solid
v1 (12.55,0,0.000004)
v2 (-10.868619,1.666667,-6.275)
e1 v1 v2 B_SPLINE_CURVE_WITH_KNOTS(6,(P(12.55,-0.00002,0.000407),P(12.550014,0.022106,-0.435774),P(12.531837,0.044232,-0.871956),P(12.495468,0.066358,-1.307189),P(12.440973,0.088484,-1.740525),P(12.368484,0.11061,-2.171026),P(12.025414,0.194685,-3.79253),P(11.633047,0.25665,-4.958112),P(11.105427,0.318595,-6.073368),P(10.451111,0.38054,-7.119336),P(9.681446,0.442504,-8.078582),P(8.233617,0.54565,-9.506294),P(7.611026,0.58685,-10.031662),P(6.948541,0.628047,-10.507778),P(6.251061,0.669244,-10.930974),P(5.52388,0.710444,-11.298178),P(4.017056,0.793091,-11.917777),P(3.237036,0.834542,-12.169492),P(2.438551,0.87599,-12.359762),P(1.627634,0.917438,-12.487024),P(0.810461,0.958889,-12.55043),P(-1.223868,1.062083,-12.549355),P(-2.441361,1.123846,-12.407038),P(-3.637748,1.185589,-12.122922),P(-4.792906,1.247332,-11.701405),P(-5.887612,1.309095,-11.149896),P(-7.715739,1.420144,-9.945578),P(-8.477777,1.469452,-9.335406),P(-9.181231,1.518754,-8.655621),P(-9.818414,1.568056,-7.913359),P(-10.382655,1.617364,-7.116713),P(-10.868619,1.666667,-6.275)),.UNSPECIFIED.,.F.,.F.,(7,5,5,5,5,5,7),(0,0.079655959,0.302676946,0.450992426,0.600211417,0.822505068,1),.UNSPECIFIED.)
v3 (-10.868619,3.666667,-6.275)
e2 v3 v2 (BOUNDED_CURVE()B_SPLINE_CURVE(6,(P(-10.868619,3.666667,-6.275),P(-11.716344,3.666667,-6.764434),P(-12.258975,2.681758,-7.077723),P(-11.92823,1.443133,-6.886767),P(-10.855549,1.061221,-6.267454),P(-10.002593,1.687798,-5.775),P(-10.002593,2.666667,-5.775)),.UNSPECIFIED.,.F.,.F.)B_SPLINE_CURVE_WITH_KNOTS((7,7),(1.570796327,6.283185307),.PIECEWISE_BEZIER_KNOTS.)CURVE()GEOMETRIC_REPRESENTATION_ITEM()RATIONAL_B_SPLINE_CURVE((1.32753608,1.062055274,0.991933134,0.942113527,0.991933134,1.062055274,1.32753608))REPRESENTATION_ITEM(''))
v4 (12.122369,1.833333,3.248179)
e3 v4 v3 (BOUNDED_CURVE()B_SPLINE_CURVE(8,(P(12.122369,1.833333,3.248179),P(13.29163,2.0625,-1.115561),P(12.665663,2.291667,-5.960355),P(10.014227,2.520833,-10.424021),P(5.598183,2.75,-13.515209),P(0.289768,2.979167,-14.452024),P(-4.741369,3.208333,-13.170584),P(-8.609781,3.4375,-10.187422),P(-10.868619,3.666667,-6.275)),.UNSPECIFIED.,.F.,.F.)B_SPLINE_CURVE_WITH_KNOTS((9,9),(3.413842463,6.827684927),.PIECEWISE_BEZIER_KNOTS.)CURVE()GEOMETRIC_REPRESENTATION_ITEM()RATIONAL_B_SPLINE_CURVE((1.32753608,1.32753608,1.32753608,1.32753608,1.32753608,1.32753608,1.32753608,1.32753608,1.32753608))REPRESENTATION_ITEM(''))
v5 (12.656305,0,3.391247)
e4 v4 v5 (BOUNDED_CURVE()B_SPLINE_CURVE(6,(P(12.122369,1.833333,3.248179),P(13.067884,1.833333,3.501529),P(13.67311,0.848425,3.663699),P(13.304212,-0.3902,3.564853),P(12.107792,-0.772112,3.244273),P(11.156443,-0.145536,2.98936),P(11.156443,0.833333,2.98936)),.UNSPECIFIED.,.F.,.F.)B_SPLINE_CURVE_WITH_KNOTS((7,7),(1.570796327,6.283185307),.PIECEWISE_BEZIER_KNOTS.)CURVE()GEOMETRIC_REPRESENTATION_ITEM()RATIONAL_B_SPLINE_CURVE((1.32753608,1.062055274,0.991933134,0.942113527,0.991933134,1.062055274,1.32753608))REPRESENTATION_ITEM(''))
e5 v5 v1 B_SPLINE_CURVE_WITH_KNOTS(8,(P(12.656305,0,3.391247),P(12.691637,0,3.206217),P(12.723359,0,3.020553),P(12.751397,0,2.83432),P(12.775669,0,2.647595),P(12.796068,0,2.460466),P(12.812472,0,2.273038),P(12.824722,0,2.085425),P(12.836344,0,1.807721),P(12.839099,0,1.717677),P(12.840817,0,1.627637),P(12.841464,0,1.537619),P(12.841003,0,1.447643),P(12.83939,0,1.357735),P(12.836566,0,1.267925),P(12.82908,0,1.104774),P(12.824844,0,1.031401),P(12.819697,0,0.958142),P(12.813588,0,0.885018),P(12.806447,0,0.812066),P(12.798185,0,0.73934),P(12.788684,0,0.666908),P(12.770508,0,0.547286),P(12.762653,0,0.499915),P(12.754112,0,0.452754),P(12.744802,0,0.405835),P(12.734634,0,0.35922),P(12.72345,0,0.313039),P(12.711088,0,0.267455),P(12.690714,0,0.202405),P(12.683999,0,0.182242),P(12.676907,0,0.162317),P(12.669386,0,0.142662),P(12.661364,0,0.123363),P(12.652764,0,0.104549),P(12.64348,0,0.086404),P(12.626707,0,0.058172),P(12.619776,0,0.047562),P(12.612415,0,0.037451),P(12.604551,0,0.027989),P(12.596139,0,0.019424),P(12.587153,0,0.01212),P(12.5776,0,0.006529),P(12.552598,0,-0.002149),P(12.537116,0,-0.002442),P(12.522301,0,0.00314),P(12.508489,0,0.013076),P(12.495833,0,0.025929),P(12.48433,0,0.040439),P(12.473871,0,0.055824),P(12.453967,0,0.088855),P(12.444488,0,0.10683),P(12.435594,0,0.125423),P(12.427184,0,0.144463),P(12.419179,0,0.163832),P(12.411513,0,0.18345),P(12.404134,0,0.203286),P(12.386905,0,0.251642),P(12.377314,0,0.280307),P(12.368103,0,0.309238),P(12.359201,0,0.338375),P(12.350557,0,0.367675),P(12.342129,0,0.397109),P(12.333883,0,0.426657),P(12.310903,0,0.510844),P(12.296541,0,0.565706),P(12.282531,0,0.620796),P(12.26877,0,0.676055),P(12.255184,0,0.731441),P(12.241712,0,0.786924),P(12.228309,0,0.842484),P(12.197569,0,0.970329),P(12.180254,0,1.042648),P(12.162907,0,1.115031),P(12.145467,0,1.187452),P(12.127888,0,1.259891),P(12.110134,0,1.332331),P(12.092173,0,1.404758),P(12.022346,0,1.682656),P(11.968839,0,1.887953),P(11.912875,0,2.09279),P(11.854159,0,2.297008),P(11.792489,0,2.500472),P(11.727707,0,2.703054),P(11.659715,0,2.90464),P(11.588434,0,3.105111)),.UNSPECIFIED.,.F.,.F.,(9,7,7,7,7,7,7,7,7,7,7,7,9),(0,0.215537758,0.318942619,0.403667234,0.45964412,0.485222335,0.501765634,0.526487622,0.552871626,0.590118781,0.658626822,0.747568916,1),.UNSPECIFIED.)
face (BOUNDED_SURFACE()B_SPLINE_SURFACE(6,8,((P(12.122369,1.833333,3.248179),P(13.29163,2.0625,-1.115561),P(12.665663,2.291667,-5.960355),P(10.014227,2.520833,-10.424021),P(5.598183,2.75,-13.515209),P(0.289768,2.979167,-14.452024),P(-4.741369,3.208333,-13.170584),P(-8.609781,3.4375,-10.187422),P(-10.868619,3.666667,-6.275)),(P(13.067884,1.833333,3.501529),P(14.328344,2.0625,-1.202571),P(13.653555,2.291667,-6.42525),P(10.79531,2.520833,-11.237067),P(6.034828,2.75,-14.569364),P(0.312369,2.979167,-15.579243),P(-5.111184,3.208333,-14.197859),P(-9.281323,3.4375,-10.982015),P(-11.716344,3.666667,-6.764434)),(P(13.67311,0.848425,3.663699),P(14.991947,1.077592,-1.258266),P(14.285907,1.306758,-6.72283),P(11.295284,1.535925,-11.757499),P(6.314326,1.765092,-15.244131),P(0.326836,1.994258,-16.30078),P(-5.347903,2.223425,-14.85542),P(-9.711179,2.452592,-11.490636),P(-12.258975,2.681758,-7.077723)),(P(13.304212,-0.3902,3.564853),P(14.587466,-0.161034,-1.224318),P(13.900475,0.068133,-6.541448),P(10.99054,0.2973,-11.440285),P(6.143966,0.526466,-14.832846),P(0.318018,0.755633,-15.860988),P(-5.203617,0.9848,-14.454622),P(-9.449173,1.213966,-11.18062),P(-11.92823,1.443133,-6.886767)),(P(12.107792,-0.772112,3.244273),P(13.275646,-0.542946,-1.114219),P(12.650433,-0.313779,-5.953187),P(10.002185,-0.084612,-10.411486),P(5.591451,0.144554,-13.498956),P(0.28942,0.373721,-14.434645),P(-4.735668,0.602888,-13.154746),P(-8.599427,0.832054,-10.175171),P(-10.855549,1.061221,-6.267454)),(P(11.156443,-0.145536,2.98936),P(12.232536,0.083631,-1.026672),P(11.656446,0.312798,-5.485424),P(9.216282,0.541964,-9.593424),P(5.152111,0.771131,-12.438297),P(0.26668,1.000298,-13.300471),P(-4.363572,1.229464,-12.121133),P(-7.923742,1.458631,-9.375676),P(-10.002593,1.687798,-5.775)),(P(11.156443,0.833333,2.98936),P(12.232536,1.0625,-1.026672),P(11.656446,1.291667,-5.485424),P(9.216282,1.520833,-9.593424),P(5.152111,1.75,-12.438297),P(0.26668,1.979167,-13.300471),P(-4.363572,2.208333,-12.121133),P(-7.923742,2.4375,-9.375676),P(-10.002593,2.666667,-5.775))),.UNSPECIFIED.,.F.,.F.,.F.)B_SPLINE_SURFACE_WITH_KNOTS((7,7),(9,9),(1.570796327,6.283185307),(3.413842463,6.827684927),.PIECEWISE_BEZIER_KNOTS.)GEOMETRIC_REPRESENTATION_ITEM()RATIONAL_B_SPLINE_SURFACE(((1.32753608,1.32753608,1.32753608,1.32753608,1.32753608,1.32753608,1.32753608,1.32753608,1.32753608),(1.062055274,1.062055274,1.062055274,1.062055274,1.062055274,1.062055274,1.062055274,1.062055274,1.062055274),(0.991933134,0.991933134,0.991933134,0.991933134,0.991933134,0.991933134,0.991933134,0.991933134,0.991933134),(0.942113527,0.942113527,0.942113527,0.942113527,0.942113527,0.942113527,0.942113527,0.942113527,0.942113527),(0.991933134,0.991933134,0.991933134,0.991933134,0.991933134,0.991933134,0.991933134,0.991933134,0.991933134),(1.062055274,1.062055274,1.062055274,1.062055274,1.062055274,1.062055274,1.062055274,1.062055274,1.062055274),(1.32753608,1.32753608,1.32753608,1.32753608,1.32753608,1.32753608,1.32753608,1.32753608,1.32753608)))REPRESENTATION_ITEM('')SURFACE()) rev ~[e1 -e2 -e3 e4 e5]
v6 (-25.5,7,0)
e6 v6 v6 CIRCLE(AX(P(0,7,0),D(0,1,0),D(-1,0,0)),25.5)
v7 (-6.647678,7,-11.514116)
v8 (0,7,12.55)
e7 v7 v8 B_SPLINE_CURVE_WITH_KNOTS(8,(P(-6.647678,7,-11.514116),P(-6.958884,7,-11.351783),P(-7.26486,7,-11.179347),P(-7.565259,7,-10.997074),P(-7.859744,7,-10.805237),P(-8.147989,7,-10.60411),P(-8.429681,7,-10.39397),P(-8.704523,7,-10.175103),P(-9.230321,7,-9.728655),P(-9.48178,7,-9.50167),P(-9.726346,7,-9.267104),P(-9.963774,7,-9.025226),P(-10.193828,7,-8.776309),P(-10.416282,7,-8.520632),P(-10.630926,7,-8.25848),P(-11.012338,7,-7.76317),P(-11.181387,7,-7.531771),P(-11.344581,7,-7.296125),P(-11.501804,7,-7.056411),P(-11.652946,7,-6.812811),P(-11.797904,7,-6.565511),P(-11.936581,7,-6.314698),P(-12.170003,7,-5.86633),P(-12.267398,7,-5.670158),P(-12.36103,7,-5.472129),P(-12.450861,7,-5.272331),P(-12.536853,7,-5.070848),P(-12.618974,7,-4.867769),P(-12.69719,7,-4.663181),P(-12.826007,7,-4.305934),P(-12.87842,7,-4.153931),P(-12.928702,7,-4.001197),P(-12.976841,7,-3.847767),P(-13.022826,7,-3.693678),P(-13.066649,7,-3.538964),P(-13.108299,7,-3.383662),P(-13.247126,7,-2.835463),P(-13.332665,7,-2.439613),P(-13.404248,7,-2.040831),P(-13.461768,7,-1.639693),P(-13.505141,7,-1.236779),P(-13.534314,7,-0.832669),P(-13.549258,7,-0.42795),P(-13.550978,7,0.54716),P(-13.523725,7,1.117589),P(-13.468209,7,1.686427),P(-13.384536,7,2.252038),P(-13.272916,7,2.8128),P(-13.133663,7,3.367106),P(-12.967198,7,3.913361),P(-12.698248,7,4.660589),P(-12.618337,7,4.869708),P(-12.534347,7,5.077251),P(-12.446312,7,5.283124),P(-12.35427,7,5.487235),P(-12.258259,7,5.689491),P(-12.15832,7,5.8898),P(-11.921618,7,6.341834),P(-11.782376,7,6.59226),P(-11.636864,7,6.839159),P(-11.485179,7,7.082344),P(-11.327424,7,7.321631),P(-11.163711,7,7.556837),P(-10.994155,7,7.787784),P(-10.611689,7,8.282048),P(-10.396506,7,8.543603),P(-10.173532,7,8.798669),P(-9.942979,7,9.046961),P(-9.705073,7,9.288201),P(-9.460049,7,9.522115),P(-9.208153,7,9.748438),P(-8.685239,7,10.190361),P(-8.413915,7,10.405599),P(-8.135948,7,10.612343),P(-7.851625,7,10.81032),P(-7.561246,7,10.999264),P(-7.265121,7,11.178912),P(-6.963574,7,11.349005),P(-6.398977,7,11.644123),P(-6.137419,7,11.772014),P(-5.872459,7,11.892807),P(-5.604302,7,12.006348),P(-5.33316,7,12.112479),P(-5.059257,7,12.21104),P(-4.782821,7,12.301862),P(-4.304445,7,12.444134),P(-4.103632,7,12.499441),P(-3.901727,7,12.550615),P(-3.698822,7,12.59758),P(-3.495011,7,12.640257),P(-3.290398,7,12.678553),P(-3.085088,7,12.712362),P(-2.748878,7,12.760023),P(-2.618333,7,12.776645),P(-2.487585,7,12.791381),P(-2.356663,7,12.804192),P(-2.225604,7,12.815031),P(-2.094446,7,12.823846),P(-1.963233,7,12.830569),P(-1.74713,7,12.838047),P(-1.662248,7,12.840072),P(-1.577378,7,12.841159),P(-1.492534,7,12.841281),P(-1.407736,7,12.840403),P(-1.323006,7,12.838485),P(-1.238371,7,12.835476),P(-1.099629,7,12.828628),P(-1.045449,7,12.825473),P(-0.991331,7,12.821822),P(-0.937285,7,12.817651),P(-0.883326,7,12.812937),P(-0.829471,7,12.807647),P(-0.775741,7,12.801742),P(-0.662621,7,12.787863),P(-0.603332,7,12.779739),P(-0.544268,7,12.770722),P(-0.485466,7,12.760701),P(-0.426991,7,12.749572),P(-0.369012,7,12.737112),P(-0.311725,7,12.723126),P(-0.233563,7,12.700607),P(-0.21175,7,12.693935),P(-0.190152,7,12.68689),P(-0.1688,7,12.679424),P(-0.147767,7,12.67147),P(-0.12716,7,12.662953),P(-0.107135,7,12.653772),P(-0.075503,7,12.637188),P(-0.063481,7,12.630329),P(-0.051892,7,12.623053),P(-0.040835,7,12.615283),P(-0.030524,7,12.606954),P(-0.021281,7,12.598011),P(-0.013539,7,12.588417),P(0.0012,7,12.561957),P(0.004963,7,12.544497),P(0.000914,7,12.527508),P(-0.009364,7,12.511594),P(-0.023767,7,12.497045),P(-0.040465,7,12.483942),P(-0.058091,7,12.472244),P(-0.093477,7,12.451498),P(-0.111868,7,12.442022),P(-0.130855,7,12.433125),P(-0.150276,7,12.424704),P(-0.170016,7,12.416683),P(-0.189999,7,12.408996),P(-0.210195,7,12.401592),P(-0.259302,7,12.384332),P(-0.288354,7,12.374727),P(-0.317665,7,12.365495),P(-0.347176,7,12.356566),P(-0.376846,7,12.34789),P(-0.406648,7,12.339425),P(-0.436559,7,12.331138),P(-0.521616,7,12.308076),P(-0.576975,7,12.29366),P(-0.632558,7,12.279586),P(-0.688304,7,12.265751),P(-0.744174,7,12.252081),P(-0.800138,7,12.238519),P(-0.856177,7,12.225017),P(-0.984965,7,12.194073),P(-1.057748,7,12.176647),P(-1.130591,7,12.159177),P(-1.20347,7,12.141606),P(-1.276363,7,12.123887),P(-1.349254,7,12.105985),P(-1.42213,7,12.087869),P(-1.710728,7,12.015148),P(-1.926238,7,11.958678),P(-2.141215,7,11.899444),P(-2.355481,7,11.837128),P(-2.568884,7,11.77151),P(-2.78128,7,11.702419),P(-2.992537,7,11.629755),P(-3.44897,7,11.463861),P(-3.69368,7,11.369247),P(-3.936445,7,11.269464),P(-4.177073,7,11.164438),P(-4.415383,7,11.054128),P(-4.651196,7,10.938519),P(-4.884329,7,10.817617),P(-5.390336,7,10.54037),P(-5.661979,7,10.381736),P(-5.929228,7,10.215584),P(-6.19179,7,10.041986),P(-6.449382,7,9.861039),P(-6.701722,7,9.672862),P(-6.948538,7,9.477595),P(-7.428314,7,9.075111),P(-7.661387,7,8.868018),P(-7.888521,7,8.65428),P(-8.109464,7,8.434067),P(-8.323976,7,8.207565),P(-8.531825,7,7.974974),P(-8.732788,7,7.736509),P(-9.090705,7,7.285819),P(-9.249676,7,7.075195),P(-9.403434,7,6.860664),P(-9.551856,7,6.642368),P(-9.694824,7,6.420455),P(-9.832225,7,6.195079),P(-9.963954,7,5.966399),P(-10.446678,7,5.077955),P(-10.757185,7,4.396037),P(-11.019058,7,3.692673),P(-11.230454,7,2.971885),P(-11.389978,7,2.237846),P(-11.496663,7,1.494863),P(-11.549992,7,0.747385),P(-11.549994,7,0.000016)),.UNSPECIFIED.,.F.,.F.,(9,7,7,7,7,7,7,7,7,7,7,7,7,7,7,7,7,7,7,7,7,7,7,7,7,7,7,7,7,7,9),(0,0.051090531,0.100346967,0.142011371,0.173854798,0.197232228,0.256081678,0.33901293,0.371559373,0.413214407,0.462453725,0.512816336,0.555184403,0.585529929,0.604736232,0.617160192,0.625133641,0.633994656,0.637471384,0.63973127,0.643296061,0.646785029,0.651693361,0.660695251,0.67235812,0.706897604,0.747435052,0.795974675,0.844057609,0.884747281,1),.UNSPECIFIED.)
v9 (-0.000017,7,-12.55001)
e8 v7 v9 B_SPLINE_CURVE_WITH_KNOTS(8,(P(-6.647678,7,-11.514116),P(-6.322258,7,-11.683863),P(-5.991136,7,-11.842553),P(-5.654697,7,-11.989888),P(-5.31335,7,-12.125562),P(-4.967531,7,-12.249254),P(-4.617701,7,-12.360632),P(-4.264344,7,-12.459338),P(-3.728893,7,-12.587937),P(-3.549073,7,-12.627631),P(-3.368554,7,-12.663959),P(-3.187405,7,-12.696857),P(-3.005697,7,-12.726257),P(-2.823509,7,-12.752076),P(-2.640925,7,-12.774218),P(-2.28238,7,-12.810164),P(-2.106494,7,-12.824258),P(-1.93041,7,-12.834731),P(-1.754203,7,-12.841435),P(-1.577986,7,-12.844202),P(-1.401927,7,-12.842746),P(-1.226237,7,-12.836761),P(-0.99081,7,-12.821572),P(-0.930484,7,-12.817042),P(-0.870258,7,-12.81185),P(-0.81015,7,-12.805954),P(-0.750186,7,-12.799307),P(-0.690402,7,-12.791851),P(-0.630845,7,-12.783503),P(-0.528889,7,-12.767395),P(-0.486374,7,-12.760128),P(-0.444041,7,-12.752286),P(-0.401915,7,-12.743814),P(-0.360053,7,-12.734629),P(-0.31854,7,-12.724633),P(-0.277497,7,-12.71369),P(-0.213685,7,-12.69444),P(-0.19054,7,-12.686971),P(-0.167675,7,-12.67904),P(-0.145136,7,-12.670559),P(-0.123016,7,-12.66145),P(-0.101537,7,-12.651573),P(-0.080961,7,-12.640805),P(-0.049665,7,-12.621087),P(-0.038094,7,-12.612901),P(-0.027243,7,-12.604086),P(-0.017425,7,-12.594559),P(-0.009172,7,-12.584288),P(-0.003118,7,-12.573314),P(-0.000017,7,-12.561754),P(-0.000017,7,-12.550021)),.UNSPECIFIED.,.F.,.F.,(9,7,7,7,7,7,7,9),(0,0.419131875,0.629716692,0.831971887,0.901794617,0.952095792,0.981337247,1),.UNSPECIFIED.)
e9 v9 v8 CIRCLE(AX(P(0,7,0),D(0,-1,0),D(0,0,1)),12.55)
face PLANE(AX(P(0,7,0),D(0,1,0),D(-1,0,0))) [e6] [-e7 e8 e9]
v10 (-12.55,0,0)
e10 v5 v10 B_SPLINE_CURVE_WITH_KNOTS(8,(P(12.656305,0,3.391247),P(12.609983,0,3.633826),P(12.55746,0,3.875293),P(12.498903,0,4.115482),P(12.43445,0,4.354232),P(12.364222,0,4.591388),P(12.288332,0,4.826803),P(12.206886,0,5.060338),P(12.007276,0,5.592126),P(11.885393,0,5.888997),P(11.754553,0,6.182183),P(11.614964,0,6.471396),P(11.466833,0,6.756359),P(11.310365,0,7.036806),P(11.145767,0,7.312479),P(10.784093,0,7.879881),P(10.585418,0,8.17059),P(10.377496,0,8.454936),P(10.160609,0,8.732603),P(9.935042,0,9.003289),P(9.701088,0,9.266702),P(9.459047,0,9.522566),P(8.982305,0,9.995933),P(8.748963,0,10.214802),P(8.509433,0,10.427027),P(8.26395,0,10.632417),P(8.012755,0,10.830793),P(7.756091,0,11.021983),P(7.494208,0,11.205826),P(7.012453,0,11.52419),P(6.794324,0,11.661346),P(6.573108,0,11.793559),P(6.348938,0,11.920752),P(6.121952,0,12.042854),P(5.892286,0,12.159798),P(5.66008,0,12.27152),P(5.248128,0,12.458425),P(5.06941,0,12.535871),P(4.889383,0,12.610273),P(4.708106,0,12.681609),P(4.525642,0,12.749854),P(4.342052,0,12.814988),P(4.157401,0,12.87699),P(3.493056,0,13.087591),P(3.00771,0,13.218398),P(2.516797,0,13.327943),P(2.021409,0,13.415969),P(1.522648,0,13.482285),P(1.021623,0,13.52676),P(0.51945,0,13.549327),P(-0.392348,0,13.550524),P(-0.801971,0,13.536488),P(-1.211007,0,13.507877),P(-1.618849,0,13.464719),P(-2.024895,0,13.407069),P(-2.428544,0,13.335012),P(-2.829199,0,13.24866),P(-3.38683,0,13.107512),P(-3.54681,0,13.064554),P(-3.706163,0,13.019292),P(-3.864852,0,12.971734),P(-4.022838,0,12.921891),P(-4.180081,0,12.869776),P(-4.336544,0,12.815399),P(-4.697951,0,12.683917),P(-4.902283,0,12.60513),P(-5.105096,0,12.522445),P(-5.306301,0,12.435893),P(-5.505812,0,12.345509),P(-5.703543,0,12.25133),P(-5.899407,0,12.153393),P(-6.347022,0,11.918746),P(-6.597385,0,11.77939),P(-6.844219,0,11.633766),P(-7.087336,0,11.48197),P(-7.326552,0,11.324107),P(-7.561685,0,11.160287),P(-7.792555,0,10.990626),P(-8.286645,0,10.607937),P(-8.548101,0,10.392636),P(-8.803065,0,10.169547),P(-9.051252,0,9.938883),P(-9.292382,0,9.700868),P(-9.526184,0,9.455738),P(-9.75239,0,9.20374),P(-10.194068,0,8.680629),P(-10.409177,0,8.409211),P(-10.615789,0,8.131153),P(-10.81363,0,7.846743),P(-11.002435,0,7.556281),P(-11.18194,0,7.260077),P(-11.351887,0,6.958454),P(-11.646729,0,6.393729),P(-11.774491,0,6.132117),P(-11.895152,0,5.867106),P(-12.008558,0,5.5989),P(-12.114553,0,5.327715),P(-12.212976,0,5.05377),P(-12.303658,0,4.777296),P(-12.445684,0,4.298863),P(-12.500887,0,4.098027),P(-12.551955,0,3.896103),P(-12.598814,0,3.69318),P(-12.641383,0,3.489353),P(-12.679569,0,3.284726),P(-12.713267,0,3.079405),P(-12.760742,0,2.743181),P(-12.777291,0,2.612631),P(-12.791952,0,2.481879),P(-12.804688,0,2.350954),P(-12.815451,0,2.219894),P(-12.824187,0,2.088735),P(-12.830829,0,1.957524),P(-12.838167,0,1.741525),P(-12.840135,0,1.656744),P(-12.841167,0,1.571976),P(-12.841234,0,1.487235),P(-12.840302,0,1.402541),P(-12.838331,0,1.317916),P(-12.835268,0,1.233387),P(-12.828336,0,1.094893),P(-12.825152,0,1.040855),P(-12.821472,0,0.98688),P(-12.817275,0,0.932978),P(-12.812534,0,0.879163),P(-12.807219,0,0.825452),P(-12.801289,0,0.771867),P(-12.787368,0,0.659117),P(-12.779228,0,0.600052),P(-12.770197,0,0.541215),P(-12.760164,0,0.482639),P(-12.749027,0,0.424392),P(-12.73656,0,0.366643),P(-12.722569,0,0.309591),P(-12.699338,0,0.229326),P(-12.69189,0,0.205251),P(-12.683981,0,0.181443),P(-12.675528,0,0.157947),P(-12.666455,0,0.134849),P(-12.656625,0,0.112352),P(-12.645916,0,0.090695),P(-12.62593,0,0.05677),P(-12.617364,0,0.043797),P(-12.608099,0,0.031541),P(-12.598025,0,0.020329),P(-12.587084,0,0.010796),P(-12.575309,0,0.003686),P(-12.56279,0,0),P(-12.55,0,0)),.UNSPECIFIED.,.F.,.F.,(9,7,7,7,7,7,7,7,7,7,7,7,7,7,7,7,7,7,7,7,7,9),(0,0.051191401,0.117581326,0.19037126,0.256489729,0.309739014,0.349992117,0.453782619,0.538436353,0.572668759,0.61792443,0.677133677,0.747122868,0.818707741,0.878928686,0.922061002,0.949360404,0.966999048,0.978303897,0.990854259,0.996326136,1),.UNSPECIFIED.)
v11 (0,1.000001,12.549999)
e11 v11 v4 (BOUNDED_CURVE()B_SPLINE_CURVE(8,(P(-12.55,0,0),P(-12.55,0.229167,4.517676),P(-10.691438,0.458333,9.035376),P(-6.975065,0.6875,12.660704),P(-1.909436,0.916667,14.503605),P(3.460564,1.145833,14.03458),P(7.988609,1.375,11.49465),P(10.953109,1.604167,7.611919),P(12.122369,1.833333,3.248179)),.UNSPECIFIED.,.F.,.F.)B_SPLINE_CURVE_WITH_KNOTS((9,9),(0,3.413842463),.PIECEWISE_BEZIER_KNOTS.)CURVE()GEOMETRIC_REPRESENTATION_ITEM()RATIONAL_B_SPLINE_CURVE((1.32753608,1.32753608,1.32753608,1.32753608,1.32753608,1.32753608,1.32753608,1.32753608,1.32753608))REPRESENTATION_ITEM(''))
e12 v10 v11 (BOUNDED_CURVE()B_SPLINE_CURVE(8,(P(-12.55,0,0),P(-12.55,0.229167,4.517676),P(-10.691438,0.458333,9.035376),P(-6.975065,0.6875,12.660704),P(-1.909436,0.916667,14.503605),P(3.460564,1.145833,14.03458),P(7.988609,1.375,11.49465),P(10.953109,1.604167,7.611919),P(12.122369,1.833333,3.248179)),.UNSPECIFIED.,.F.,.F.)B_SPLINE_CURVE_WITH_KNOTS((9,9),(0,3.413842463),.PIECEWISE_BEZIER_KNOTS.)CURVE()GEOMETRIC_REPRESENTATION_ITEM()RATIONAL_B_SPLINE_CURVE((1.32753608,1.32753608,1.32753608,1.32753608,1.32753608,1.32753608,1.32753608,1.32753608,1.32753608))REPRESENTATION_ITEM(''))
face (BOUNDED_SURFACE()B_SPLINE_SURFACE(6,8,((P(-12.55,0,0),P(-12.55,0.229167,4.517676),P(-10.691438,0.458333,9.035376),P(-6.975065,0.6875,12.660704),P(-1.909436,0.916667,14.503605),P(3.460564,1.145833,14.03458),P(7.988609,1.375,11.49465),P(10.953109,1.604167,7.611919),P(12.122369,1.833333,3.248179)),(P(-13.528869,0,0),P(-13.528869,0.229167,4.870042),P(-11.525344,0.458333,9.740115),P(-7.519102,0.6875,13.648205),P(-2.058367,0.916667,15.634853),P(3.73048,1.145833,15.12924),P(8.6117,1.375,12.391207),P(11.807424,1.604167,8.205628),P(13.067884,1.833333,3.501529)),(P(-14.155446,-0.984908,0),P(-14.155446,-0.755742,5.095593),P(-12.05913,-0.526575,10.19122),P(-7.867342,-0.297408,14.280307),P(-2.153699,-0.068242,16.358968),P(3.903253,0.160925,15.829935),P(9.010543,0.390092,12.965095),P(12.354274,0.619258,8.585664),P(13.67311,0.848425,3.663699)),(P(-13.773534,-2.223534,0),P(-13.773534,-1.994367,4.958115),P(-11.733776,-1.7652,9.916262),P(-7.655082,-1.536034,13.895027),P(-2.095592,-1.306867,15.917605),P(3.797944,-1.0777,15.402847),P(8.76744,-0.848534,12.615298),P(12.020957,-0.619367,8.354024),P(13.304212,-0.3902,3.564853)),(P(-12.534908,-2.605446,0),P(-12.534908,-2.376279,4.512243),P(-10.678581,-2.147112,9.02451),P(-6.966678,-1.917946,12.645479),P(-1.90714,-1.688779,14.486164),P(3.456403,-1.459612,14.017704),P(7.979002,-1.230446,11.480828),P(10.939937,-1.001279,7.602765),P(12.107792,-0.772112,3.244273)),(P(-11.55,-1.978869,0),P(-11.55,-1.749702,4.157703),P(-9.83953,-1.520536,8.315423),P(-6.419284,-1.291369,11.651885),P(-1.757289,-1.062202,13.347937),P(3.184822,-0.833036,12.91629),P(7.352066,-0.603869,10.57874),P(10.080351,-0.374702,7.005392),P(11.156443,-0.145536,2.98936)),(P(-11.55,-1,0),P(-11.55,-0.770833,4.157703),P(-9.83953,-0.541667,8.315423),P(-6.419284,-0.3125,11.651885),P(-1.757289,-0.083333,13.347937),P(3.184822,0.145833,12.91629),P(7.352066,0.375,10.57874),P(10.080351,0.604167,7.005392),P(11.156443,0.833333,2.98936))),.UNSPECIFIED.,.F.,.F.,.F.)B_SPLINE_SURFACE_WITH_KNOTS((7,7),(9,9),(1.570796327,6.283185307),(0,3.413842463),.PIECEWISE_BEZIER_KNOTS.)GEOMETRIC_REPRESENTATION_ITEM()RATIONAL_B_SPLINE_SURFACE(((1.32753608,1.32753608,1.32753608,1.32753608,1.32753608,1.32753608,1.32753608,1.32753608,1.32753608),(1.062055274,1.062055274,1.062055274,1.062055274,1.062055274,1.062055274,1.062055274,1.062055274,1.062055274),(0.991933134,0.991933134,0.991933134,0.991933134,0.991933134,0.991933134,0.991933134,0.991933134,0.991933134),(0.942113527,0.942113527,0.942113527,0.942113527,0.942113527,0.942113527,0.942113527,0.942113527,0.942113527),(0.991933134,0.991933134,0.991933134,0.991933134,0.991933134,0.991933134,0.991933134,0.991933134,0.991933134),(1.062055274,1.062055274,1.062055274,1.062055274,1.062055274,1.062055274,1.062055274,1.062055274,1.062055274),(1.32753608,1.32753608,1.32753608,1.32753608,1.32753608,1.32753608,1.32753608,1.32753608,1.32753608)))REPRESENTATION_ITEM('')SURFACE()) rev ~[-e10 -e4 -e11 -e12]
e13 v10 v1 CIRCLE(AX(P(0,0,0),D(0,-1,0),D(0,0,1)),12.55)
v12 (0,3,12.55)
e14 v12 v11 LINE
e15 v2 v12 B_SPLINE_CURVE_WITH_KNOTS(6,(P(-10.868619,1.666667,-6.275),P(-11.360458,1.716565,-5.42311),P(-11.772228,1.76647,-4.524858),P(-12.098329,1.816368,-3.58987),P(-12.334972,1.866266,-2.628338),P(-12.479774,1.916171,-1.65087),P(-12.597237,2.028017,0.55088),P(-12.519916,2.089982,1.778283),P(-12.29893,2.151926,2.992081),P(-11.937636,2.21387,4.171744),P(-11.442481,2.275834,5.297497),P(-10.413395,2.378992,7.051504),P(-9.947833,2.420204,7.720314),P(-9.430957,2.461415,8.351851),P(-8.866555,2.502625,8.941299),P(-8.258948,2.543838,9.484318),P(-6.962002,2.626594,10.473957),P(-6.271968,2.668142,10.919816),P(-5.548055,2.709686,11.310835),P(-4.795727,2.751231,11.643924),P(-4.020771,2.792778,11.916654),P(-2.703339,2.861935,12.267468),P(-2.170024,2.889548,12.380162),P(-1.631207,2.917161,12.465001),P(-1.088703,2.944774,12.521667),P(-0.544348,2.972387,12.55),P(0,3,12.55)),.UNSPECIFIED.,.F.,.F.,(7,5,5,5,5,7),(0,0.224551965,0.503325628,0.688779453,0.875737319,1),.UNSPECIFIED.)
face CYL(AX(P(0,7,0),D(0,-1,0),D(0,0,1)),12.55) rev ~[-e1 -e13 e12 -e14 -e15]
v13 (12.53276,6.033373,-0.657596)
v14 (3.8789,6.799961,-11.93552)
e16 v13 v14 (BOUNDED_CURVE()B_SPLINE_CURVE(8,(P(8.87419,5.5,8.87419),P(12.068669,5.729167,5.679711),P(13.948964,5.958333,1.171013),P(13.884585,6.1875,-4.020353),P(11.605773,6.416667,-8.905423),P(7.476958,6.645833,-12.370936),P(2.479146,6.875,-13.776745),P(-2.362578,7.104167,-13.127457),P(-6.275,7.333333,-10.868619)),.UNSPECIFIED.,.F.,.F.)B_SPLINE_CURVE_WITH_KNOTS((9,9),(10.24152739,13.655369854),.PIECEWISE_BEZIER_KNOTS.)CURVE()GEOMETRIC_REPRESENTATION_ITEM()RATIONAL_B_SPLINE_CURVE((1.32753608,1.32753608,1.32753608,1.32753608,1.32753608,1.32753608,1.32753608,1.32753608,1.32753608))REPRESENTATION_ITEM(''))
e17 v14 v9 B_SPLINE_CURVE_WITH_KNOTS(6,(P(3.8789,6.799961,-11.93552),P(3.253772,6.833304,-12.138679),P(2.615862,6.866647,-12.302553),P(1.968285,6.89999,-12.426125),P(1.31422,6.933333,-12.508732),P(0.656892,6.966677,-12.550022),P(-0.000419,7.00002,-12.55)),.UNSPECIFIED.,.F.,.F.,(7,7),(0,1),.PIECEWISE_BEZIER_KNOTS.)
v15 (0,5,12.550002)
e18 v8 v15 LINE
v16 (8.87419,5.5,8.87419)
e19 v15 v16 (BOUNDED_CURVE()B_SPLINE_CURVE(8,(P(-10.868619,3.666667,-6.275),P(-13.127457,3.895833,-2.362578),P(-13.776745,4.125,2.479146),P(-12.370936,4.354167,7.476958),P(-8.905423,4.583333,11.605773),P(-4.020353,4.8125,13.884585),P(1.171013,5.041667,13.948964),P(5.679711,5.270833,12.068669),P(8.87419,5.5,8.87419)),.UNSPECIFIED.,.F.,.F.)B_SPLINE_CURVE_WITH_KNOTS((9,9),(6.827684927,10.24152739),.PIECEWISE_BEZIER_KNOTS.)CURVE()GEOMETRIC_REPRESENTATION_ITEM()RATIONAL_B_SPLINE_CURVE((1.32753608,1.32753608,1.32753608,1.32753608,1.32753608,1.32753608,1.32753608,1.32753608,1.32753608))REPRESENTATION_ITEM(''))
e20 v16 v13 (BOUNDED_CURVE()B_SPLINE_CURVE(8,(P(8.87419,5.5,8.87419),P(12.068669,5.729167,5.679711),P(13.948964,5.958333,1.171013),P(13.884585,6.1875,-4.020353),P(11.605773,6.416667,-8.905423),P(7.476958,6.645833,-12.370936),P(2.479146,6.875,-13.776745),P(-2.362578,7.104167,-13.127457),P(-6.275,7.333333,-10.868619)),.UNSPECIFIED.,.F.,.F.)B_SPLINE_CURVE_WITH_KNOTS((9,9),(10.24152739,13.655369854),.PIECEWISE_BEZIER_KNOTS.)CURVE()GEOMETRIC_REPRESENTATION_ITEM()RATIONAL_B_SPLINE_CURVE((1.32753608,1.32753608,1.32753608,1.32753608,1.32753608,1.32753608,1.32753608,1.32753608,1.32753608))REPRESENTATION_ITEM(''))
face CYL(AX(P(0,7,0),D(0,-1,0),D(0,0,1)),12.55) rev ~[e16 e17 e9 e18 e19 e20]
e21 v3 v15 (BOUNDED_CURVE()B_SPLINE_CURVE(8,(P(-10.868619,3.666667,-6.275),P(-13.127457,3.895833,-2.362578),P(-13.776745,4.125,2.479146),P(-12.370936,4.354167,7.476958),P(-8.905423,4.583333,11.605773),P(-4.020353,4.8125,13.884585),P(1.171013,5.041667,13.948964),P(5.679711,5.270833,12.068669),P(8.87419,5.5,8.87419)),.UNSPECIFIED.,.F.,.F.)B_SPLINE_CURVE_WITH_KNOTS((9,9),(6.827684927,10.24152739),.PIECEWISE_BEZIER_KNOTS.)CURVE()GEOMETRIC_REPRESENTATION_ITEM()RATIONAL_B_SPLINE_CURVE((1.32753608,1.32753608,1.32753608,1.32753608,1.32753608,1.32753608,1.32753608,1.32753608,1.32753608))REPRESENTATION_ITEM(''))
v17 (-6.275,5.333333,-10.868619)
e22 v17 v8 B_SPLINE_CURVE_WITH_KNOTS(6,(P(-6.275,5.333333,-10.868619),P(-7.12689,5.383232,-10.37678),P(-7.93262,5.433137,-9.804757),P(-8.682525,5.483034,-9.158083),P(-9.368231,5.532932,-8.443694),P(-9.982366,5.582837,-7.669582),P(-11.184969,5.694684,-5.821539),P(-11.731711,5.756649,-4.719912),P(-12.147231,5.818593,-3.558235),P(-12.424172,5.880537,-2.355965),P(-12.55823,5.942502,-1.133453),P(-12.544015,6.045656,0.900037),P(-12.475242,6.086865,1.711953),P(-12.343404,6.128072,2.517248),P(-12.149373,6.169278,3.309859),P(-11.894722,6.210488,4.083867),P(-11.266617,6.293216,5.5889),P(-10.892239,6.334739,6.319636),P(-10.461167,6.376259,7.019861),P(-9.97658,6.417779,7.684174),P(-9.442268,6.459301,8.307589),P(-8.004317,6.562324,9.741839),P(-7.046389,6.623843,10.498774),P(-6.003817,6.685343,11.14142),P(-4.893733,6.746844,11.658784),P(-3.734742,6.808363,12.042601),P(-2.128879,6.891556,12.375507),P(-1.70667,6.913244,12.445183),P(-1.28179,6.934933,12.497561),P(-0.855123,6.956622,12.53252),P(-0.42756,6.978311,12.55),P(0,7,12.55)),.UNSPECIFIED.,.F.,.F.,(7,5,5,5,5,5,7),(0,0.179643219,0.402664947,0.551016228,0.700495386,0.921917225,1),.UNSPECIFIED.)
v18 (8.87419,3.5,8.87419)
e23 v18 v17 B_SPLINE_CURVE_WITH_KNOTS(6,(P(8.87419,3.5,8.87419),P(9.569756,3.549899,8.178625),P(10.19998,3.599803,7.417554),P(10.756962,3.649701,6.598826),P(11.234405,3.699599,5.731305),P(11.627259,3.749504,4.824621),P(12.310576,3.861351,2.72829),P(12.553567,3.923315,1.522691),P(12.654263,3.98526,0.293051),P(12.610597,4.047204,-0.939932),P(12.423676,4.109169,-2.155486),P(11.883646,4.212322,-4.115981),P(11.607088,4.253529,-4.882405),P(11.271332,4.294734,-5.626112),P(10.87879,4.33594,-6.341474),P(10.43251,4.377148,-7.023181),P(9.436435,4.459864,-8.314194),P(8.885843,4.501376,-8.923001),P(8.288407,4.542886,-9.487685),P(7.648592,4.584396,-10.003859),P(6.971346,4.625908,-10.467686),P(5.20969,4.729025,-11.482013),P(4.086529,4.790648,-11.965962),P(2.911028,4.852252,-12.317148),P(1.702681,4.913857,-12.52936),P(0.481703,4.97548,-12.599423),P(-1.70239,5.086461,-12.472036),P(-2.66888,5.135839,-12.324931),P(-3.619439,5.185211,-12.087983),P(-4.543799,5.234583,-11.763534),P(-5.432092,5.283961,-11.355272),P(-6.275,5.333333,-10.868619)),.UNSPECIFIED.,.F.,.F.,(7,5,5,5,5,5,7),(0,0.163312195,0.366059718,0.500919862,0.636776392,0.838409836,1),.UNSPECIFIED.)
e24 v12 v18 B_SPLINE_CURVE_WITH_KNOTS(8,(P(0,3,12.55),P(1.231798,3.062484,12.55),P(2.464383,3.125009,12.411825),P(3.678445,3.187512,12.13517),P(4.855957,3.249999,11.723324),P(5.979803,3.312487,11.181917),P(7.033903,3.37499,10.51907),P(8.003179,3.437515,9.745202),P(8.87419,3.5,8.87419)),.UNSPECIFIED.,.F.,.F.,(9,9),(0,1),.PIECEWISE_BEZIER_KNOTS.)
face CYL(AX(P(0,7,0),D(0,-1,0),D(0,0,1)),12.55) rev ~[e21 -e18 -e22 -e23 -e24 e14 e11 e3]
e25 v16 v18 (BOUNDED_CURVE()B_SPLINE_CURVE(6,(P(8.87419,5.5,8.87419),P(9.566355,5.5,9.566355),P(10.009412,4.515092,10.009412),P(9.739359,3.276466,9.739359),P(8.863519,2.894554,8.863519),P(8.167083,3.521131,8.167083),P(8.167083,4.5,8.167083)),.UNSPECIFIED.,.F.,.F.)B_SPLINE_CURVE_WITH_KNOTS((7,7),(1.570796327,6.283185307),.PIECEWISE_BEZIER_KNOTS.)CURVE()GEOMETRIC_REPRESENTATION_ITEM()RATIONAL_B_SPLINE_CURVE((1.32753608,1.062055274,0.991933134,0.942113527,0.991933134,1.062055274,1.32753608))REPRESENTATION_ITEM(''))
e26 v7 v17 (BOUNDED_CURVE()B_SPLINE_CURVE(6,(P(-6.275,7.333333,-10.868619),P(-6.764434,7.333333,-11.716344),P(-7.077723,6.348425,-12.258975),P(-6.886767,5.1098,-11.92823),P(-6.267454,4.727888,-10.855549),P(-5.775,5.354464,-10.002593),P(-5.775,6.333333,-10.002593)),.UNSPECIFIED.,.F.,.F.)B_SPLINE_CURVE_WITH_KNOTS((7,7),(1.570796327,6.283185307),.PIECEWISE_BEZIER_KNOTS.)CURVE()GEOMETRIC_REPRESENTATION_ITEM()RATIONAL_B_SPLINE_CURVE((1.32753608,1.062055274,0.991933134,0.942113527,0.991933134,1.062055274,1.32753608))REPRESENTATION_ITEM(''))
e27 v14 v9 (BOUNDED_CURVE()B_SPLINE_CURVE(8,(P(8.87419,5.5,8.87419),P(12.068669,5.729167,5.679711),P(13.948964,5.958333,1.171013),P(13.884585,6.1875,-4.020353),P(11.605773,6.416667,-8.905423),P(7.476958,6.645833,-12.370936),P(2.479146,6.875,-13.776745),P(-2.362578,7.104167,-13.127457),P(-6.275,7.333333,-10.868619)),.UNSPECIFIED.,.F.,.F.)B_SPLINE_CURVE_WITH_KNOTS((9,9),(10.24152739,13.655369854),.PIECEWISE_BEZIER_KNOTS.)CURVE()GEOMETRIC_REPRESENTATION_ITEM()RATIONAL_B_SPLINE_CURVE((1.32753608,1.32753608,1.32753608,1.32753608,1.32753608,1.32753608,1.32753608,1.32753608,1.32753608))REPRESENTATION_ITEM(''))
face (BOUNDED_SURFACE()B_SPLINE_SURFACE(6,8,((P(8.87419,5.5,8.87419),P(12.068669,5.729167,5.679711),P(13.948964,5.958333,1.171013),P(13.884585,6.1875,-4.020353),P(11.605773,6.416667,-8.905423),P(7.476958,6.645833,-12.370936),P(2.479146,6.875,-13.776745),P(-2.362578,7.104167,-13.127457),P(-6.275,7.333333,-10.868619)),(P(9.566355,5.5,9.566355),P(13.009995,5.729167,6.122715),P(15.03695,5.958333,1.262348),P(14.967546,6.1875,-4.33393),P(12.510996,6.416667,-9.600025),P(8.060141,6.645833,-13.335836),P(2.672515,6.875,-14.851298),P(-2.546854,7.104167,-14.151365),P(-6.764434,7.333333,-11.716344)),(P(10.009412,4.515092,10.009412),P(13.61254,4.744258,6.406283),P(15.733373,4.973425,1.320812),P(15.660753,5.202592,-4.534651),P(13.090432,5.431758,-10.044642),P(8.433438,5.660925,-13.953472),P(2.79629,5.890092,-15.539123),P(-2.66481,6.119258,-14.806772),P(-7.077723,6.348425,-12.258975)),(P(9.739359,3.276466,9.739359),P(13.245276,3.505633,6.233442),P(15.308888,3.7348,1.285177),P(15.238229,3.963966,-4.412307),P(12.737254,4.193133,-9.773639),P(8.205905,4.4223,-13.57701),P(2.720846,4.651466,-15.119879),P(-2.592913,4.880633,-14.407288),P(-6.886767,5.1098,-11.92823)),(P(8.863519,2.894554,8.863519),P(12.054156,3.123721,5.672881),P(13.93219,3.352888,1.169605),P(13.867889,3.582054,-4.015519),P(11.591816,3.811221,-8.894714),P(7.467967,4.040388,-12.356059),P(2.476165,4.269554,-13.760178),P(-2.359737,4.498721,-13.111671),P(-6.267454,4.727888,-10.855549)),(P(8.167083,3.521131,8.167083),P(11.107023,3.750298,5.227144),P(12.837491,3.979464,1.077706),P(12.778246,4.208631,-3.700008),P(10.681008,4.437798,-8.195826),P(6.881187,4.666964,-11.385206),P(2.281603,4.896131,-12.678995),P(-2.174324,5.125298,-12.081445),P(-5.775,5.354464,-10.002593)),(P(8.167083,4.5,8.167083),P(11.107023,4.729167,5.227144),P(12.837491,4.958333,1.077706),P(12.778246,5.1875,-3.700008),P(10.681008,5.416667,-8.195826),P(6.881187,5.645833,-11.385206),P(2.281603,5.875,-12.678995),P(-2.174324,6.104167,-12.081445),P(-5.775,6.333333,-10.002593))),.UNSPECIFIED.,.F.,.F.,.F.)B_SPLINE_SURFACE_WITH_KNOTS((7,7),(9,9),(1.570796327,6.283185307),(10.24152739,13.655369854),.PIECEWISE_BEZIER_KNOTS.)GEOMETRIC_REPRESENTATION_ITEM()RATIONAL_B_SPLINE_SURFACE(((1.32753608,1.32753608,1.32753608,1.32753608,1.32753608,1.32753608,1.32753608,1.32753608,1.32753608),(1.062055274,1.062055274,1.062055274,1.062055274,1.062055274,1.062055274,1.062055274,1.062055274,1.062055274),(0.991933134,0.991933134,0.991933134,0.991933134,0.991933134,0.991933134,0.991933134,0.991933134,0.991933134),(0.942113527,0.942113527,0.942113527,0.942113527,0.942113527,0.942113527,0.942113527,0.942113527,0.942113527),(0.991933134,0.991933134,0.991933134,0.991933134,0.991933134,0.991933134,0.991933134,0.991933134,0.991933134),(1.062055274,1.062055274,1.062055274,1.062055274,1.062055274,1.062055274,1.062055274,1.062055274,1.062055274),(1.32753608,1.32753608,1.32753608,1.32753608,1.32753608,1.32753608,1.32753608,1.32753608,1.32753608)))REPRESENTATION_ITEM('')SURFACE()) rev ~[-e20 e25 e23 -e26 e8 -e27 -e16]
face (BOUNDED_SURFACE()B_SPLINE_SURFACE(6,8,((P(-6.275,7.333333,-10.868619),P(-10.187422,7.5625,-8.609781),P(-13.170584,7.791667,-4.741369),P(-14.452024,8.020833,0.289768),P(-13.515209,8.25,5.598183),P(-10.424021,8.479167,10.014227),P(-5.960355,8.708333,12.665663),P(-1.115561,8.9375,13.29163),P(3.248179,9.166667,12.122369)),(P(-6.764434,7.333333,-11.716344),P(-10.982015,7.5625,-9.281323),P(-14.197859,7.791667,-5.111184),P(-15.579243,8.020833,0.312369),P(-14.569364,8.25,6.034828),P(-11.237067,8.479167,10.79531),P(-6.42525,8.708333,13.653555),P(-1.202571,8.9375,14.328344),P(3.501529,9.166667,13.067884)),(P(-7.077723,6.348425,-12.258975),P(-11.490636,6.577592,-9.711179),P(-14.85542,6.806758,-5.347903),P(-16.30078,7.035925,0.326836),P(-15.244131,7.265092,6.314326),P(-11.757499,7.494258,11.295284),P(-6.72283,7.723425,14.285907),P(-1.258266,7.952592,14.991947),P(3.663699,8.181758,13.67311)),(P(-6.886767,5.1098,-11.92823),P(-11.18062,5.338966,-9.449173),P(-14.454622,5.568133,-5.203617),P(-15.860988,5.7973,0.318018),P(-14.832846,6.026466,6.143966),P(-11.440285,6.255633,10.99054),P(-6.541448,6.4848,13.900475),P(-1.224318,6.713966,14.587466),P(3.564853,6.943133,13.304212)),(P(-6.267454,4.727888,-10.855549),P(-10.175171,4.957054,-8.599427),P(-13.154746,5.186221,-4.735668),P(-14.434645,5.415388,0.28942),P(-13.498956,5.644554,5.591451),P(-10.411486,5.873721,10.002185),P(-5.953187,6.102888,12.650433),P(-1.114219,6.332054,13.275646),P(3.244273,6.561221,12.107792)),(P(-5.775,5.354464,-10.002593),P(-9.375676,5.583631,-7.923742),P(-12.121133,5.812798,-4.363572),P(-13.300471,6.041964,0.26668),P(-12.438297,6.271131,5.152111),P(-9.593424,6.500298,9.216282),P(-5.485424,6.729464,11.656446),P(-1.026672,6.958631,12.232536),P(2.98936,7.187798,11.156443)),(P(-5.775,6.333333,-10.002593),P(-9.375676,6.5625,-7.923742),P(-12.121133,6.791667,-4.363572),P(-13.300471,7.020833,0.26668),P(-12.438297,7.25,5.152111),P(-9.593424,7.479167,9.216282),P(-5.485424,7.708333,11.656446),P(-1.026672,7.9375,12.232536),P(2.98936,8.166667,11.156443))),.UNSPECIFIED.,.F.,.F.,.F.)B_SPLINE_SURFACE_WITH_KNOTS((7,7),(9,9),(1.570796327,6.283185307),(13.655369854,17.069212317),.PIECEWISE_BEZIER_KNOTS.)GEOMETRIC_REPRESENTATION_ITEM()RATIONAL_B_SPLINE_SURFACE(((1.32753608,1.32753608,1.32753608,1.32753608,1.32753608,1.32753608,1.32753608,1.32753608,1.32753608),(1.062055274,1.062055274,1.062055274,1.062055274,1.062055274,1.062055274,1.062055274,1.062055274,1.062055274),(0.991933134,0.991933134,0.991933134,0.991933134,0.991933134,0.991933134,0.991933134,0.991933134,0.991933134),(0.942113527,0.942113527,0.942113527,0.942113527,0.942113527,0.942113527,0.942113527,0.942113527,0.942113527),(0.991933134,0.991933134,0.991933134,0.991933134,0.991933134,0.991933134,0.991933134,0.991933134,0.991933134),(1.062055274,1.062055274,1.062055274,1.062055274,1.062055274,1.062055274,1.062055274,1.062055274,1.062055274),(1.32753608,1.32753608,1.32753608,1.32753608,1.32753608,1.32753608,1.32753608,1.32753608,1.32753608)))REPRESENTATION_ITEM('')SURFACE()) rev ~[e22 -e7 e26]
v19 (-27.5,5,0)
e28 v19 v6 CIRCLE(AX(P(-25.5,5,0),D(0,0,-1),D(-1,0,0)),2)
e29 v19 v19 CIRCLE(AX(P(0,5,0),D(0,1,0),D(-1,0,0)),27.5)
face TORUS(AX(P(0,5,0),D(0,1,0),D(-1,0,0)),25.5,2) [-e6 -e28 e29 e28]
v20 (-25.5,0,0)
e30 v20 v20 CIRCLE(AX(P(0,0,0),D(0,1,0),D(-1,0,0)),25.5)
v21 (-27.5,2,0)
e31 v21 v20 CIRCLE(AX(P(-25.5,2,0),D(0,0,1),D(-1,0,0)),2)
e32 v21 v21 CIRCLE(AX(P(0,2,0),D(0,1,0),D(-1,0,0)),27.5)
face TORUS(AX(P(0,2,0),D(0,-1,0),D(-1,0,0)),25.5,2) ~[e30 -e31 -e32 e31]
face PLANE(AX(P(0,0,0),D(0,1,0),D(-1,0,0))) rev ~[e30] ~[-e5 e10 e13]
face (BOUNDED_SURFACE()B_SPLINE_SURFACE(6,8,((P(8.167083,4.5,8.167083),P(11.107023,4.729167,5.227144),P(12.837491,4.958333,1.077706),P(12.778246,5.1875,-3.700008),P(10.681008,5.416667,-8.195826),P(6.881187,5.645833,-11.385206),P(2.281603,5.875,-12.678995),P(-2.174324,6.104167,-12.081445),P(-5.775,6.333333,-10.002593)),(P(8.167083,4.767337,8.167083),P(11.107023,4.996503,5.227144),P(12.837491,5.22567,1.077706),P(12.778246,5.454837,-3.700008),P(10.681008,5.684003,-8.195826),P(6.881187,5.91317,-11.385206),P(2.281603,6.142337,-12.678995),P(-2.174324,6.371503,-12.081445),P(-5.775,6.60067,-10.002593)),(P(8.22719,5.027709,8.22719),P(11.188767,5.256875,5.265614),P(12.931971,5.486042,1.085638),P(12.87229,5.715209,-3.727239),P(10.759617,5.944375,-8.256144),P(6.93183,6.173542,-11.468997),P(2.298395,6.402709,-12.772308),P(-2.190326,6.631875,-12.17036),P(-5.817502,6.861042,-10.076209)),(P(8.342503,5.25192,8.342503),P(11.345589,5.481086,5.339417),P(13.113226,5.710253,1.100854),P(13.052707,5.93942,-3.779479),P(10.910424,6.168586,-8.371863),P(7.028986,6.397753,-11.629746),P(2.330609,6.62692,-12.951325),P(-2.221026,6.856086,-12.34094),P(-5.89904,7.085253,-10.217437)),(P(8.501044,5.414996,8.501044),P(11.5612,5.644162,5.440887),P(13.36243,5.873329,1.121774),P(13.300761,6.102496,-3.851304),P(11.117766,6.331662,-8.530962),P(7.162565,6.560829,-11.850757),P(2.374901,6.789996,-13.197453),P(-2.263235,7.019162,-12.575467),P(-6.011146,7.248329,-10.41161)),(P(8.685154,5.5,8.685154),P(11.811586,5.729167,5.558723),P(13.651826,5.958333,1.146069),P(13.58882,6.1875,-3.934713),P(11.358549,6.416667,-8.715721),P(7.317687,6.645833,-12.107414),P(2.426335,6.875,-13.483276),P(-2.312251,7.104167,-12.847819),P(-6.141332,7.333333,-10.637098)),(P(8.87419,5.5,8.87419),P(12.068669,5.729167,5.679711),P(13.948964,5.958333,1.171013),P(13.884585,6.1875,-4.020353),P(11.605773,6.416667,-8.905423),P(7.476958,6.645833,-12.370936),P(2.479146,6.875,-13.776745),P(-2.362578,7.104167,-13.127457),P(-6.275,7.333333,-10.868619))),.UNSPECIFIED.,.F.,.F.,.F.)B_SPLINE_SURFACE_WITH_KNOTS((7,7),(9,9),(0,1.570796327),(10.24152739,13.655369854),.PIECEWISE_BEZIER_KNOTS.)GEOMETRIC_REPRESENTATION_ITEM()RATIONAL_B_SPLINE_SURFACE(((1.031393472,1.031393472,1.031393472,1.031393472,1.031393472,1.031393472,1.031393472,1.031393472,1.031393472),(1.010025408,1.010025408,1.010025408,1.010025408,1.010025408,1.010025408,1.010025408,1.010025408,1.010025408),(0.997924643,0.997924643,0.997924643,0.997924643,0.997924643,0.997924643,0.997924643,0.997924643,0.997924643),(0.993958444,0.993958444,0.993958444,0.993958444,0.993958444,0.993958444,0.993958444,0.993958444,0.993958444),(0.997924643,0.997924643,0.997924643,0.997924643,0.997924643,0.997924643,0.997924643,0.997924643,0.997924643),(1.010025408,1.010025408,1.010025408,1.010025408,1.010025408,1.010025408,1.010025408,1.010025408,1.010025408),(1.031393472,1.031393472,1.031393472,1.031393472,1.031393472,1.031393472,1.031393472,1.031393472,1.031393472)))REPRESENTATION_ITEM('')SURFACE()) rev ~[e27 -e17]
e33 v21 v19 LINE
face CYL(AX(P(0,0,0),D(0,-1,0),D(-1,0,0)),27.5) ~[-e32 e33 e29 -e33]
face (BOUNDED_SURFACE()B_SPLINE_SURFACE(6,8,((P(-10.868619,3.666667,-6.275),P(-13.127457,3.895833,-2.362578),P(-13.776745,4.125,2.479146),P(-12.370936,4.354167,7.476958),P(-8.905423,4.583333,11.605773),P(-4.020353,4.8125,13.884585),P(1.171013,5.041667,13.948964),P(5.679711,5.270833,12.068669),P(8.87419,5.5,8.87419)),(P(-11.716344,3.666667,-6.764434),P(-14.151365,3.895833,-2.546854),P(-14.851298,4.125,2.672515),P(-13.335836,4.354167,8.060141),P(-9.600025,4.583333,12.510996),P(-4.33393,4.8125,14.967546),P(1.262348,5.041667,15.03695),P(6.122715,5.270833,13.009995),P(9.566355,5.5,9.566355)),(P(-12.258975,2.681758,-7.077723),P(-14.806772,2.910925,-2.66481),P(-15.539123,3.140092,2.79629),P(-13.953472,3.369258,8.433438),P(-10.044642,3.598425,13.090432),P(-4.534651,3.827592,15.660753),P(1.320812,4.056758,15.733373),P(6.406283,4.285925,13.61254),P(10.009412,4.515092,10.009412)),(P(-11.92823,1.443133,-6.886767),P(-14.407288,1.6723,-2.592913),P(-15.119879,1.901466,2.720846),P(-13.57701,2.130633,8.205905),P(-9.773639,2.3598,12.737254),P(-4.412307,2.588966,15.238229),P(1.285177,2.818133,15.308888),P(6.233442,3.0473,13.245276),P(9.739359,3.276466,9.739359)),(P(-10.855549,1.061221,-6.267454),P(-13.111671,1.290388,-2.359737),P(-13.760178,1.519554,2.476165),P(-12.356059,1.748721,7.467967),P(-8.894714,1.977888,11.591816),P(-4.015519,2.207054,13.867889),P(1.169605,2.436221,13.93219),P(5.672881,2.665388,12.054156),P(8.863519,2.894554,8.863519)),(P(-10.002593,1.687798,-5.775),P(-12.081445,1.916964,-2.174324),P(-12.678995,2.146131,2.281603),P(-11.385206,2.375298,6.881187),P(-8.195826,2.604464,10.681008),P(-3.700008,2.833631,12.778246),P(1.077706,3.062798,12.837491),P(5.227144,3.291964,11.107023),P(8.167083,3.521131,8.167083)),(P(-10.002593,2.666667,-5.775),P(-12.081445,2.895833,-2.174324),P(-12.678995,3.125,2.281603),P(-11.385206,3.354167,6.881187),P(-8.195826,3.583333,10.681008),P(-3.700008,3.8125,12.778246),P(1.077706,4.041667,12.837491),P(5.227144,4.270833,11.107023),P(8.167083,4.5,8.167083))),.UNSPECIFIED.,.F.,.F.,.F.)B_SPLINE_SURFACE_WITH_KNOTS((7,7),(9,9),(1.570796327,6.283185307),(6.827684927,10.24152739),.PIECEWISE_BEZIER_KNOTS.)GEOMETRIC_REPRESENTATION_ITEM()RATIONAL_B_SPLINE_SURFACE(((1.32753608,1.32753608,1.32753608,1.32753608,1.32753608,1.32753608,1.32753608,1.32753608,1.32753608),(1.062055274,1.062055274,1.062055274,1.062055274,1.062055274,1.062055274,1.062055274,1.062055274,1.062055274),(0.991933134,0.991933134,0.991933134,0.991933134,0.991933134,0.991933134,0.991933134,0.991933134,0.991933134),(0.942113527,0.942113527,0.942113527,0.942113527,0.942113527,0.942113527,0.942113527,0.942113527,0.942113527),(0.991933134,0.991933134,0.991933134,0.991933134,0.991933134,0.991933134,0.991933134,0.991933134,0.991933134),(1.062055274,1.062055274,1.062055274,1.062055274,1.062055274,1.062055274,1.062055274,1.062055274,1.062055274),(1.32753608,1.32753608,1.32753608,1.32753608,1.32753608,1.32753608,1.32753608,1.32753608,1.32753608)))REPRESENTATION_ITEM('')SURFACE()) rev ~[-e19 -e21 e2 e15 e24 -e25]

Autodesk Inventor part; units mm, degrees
ref_plane "YZ Plane" through (0, 0, 0) normal (1, 0, 0) x (0, 1, 0)
ref_plane "XZ Plane" through (0, 0, 0) normal (0, 1, 0) x (-1, 0, 0)
ref_plane "XY Plane" through (0, 0, 0) normal (0, 0, 1) x (1, 0, 0)
sketch "Sketch1" plane through (0, 0, 0) normal (0, 1, 0) x (-1, 0, 0)
  circle A0 centre (0, 0) radius 27.5
  dimension "d0" = 55
extrude "Extrusion1" add sketch "Sketch1" along normal blind 7
sketch "Sketch2" plane through (0, 7, 0) normal (0, 1, 0) x (1, 0, 0)
  circle A0 centre (0, 0) radius 27.5 projected
hole "Hole1" at (0, 7, 0) direction (0, -1, 0) diameter 25.1 end through all
sketch "Sketch9" plane through (0, 0, 0) normal (0, 0, 1) x (1, 0, 0)
  circle A0 centre (-12.55, -1) radius 1
  line L0 (12.55, 0) -> (-12.55, 0) projected
  point P0 (0, 0)
  dimension "d52" = 2
  dimension "d53" = 1
coil "Coil4" sketch "Sketch9" operation cut axis through (0, -10, 0) along (0, 1, 0) pitch 4 turns 2.75 hand right
fillet "Fillet1" radius 2 2 edges at (27.5, 7, 0) (27.5, 0, 0)
properties part number "screwspoolv3"
